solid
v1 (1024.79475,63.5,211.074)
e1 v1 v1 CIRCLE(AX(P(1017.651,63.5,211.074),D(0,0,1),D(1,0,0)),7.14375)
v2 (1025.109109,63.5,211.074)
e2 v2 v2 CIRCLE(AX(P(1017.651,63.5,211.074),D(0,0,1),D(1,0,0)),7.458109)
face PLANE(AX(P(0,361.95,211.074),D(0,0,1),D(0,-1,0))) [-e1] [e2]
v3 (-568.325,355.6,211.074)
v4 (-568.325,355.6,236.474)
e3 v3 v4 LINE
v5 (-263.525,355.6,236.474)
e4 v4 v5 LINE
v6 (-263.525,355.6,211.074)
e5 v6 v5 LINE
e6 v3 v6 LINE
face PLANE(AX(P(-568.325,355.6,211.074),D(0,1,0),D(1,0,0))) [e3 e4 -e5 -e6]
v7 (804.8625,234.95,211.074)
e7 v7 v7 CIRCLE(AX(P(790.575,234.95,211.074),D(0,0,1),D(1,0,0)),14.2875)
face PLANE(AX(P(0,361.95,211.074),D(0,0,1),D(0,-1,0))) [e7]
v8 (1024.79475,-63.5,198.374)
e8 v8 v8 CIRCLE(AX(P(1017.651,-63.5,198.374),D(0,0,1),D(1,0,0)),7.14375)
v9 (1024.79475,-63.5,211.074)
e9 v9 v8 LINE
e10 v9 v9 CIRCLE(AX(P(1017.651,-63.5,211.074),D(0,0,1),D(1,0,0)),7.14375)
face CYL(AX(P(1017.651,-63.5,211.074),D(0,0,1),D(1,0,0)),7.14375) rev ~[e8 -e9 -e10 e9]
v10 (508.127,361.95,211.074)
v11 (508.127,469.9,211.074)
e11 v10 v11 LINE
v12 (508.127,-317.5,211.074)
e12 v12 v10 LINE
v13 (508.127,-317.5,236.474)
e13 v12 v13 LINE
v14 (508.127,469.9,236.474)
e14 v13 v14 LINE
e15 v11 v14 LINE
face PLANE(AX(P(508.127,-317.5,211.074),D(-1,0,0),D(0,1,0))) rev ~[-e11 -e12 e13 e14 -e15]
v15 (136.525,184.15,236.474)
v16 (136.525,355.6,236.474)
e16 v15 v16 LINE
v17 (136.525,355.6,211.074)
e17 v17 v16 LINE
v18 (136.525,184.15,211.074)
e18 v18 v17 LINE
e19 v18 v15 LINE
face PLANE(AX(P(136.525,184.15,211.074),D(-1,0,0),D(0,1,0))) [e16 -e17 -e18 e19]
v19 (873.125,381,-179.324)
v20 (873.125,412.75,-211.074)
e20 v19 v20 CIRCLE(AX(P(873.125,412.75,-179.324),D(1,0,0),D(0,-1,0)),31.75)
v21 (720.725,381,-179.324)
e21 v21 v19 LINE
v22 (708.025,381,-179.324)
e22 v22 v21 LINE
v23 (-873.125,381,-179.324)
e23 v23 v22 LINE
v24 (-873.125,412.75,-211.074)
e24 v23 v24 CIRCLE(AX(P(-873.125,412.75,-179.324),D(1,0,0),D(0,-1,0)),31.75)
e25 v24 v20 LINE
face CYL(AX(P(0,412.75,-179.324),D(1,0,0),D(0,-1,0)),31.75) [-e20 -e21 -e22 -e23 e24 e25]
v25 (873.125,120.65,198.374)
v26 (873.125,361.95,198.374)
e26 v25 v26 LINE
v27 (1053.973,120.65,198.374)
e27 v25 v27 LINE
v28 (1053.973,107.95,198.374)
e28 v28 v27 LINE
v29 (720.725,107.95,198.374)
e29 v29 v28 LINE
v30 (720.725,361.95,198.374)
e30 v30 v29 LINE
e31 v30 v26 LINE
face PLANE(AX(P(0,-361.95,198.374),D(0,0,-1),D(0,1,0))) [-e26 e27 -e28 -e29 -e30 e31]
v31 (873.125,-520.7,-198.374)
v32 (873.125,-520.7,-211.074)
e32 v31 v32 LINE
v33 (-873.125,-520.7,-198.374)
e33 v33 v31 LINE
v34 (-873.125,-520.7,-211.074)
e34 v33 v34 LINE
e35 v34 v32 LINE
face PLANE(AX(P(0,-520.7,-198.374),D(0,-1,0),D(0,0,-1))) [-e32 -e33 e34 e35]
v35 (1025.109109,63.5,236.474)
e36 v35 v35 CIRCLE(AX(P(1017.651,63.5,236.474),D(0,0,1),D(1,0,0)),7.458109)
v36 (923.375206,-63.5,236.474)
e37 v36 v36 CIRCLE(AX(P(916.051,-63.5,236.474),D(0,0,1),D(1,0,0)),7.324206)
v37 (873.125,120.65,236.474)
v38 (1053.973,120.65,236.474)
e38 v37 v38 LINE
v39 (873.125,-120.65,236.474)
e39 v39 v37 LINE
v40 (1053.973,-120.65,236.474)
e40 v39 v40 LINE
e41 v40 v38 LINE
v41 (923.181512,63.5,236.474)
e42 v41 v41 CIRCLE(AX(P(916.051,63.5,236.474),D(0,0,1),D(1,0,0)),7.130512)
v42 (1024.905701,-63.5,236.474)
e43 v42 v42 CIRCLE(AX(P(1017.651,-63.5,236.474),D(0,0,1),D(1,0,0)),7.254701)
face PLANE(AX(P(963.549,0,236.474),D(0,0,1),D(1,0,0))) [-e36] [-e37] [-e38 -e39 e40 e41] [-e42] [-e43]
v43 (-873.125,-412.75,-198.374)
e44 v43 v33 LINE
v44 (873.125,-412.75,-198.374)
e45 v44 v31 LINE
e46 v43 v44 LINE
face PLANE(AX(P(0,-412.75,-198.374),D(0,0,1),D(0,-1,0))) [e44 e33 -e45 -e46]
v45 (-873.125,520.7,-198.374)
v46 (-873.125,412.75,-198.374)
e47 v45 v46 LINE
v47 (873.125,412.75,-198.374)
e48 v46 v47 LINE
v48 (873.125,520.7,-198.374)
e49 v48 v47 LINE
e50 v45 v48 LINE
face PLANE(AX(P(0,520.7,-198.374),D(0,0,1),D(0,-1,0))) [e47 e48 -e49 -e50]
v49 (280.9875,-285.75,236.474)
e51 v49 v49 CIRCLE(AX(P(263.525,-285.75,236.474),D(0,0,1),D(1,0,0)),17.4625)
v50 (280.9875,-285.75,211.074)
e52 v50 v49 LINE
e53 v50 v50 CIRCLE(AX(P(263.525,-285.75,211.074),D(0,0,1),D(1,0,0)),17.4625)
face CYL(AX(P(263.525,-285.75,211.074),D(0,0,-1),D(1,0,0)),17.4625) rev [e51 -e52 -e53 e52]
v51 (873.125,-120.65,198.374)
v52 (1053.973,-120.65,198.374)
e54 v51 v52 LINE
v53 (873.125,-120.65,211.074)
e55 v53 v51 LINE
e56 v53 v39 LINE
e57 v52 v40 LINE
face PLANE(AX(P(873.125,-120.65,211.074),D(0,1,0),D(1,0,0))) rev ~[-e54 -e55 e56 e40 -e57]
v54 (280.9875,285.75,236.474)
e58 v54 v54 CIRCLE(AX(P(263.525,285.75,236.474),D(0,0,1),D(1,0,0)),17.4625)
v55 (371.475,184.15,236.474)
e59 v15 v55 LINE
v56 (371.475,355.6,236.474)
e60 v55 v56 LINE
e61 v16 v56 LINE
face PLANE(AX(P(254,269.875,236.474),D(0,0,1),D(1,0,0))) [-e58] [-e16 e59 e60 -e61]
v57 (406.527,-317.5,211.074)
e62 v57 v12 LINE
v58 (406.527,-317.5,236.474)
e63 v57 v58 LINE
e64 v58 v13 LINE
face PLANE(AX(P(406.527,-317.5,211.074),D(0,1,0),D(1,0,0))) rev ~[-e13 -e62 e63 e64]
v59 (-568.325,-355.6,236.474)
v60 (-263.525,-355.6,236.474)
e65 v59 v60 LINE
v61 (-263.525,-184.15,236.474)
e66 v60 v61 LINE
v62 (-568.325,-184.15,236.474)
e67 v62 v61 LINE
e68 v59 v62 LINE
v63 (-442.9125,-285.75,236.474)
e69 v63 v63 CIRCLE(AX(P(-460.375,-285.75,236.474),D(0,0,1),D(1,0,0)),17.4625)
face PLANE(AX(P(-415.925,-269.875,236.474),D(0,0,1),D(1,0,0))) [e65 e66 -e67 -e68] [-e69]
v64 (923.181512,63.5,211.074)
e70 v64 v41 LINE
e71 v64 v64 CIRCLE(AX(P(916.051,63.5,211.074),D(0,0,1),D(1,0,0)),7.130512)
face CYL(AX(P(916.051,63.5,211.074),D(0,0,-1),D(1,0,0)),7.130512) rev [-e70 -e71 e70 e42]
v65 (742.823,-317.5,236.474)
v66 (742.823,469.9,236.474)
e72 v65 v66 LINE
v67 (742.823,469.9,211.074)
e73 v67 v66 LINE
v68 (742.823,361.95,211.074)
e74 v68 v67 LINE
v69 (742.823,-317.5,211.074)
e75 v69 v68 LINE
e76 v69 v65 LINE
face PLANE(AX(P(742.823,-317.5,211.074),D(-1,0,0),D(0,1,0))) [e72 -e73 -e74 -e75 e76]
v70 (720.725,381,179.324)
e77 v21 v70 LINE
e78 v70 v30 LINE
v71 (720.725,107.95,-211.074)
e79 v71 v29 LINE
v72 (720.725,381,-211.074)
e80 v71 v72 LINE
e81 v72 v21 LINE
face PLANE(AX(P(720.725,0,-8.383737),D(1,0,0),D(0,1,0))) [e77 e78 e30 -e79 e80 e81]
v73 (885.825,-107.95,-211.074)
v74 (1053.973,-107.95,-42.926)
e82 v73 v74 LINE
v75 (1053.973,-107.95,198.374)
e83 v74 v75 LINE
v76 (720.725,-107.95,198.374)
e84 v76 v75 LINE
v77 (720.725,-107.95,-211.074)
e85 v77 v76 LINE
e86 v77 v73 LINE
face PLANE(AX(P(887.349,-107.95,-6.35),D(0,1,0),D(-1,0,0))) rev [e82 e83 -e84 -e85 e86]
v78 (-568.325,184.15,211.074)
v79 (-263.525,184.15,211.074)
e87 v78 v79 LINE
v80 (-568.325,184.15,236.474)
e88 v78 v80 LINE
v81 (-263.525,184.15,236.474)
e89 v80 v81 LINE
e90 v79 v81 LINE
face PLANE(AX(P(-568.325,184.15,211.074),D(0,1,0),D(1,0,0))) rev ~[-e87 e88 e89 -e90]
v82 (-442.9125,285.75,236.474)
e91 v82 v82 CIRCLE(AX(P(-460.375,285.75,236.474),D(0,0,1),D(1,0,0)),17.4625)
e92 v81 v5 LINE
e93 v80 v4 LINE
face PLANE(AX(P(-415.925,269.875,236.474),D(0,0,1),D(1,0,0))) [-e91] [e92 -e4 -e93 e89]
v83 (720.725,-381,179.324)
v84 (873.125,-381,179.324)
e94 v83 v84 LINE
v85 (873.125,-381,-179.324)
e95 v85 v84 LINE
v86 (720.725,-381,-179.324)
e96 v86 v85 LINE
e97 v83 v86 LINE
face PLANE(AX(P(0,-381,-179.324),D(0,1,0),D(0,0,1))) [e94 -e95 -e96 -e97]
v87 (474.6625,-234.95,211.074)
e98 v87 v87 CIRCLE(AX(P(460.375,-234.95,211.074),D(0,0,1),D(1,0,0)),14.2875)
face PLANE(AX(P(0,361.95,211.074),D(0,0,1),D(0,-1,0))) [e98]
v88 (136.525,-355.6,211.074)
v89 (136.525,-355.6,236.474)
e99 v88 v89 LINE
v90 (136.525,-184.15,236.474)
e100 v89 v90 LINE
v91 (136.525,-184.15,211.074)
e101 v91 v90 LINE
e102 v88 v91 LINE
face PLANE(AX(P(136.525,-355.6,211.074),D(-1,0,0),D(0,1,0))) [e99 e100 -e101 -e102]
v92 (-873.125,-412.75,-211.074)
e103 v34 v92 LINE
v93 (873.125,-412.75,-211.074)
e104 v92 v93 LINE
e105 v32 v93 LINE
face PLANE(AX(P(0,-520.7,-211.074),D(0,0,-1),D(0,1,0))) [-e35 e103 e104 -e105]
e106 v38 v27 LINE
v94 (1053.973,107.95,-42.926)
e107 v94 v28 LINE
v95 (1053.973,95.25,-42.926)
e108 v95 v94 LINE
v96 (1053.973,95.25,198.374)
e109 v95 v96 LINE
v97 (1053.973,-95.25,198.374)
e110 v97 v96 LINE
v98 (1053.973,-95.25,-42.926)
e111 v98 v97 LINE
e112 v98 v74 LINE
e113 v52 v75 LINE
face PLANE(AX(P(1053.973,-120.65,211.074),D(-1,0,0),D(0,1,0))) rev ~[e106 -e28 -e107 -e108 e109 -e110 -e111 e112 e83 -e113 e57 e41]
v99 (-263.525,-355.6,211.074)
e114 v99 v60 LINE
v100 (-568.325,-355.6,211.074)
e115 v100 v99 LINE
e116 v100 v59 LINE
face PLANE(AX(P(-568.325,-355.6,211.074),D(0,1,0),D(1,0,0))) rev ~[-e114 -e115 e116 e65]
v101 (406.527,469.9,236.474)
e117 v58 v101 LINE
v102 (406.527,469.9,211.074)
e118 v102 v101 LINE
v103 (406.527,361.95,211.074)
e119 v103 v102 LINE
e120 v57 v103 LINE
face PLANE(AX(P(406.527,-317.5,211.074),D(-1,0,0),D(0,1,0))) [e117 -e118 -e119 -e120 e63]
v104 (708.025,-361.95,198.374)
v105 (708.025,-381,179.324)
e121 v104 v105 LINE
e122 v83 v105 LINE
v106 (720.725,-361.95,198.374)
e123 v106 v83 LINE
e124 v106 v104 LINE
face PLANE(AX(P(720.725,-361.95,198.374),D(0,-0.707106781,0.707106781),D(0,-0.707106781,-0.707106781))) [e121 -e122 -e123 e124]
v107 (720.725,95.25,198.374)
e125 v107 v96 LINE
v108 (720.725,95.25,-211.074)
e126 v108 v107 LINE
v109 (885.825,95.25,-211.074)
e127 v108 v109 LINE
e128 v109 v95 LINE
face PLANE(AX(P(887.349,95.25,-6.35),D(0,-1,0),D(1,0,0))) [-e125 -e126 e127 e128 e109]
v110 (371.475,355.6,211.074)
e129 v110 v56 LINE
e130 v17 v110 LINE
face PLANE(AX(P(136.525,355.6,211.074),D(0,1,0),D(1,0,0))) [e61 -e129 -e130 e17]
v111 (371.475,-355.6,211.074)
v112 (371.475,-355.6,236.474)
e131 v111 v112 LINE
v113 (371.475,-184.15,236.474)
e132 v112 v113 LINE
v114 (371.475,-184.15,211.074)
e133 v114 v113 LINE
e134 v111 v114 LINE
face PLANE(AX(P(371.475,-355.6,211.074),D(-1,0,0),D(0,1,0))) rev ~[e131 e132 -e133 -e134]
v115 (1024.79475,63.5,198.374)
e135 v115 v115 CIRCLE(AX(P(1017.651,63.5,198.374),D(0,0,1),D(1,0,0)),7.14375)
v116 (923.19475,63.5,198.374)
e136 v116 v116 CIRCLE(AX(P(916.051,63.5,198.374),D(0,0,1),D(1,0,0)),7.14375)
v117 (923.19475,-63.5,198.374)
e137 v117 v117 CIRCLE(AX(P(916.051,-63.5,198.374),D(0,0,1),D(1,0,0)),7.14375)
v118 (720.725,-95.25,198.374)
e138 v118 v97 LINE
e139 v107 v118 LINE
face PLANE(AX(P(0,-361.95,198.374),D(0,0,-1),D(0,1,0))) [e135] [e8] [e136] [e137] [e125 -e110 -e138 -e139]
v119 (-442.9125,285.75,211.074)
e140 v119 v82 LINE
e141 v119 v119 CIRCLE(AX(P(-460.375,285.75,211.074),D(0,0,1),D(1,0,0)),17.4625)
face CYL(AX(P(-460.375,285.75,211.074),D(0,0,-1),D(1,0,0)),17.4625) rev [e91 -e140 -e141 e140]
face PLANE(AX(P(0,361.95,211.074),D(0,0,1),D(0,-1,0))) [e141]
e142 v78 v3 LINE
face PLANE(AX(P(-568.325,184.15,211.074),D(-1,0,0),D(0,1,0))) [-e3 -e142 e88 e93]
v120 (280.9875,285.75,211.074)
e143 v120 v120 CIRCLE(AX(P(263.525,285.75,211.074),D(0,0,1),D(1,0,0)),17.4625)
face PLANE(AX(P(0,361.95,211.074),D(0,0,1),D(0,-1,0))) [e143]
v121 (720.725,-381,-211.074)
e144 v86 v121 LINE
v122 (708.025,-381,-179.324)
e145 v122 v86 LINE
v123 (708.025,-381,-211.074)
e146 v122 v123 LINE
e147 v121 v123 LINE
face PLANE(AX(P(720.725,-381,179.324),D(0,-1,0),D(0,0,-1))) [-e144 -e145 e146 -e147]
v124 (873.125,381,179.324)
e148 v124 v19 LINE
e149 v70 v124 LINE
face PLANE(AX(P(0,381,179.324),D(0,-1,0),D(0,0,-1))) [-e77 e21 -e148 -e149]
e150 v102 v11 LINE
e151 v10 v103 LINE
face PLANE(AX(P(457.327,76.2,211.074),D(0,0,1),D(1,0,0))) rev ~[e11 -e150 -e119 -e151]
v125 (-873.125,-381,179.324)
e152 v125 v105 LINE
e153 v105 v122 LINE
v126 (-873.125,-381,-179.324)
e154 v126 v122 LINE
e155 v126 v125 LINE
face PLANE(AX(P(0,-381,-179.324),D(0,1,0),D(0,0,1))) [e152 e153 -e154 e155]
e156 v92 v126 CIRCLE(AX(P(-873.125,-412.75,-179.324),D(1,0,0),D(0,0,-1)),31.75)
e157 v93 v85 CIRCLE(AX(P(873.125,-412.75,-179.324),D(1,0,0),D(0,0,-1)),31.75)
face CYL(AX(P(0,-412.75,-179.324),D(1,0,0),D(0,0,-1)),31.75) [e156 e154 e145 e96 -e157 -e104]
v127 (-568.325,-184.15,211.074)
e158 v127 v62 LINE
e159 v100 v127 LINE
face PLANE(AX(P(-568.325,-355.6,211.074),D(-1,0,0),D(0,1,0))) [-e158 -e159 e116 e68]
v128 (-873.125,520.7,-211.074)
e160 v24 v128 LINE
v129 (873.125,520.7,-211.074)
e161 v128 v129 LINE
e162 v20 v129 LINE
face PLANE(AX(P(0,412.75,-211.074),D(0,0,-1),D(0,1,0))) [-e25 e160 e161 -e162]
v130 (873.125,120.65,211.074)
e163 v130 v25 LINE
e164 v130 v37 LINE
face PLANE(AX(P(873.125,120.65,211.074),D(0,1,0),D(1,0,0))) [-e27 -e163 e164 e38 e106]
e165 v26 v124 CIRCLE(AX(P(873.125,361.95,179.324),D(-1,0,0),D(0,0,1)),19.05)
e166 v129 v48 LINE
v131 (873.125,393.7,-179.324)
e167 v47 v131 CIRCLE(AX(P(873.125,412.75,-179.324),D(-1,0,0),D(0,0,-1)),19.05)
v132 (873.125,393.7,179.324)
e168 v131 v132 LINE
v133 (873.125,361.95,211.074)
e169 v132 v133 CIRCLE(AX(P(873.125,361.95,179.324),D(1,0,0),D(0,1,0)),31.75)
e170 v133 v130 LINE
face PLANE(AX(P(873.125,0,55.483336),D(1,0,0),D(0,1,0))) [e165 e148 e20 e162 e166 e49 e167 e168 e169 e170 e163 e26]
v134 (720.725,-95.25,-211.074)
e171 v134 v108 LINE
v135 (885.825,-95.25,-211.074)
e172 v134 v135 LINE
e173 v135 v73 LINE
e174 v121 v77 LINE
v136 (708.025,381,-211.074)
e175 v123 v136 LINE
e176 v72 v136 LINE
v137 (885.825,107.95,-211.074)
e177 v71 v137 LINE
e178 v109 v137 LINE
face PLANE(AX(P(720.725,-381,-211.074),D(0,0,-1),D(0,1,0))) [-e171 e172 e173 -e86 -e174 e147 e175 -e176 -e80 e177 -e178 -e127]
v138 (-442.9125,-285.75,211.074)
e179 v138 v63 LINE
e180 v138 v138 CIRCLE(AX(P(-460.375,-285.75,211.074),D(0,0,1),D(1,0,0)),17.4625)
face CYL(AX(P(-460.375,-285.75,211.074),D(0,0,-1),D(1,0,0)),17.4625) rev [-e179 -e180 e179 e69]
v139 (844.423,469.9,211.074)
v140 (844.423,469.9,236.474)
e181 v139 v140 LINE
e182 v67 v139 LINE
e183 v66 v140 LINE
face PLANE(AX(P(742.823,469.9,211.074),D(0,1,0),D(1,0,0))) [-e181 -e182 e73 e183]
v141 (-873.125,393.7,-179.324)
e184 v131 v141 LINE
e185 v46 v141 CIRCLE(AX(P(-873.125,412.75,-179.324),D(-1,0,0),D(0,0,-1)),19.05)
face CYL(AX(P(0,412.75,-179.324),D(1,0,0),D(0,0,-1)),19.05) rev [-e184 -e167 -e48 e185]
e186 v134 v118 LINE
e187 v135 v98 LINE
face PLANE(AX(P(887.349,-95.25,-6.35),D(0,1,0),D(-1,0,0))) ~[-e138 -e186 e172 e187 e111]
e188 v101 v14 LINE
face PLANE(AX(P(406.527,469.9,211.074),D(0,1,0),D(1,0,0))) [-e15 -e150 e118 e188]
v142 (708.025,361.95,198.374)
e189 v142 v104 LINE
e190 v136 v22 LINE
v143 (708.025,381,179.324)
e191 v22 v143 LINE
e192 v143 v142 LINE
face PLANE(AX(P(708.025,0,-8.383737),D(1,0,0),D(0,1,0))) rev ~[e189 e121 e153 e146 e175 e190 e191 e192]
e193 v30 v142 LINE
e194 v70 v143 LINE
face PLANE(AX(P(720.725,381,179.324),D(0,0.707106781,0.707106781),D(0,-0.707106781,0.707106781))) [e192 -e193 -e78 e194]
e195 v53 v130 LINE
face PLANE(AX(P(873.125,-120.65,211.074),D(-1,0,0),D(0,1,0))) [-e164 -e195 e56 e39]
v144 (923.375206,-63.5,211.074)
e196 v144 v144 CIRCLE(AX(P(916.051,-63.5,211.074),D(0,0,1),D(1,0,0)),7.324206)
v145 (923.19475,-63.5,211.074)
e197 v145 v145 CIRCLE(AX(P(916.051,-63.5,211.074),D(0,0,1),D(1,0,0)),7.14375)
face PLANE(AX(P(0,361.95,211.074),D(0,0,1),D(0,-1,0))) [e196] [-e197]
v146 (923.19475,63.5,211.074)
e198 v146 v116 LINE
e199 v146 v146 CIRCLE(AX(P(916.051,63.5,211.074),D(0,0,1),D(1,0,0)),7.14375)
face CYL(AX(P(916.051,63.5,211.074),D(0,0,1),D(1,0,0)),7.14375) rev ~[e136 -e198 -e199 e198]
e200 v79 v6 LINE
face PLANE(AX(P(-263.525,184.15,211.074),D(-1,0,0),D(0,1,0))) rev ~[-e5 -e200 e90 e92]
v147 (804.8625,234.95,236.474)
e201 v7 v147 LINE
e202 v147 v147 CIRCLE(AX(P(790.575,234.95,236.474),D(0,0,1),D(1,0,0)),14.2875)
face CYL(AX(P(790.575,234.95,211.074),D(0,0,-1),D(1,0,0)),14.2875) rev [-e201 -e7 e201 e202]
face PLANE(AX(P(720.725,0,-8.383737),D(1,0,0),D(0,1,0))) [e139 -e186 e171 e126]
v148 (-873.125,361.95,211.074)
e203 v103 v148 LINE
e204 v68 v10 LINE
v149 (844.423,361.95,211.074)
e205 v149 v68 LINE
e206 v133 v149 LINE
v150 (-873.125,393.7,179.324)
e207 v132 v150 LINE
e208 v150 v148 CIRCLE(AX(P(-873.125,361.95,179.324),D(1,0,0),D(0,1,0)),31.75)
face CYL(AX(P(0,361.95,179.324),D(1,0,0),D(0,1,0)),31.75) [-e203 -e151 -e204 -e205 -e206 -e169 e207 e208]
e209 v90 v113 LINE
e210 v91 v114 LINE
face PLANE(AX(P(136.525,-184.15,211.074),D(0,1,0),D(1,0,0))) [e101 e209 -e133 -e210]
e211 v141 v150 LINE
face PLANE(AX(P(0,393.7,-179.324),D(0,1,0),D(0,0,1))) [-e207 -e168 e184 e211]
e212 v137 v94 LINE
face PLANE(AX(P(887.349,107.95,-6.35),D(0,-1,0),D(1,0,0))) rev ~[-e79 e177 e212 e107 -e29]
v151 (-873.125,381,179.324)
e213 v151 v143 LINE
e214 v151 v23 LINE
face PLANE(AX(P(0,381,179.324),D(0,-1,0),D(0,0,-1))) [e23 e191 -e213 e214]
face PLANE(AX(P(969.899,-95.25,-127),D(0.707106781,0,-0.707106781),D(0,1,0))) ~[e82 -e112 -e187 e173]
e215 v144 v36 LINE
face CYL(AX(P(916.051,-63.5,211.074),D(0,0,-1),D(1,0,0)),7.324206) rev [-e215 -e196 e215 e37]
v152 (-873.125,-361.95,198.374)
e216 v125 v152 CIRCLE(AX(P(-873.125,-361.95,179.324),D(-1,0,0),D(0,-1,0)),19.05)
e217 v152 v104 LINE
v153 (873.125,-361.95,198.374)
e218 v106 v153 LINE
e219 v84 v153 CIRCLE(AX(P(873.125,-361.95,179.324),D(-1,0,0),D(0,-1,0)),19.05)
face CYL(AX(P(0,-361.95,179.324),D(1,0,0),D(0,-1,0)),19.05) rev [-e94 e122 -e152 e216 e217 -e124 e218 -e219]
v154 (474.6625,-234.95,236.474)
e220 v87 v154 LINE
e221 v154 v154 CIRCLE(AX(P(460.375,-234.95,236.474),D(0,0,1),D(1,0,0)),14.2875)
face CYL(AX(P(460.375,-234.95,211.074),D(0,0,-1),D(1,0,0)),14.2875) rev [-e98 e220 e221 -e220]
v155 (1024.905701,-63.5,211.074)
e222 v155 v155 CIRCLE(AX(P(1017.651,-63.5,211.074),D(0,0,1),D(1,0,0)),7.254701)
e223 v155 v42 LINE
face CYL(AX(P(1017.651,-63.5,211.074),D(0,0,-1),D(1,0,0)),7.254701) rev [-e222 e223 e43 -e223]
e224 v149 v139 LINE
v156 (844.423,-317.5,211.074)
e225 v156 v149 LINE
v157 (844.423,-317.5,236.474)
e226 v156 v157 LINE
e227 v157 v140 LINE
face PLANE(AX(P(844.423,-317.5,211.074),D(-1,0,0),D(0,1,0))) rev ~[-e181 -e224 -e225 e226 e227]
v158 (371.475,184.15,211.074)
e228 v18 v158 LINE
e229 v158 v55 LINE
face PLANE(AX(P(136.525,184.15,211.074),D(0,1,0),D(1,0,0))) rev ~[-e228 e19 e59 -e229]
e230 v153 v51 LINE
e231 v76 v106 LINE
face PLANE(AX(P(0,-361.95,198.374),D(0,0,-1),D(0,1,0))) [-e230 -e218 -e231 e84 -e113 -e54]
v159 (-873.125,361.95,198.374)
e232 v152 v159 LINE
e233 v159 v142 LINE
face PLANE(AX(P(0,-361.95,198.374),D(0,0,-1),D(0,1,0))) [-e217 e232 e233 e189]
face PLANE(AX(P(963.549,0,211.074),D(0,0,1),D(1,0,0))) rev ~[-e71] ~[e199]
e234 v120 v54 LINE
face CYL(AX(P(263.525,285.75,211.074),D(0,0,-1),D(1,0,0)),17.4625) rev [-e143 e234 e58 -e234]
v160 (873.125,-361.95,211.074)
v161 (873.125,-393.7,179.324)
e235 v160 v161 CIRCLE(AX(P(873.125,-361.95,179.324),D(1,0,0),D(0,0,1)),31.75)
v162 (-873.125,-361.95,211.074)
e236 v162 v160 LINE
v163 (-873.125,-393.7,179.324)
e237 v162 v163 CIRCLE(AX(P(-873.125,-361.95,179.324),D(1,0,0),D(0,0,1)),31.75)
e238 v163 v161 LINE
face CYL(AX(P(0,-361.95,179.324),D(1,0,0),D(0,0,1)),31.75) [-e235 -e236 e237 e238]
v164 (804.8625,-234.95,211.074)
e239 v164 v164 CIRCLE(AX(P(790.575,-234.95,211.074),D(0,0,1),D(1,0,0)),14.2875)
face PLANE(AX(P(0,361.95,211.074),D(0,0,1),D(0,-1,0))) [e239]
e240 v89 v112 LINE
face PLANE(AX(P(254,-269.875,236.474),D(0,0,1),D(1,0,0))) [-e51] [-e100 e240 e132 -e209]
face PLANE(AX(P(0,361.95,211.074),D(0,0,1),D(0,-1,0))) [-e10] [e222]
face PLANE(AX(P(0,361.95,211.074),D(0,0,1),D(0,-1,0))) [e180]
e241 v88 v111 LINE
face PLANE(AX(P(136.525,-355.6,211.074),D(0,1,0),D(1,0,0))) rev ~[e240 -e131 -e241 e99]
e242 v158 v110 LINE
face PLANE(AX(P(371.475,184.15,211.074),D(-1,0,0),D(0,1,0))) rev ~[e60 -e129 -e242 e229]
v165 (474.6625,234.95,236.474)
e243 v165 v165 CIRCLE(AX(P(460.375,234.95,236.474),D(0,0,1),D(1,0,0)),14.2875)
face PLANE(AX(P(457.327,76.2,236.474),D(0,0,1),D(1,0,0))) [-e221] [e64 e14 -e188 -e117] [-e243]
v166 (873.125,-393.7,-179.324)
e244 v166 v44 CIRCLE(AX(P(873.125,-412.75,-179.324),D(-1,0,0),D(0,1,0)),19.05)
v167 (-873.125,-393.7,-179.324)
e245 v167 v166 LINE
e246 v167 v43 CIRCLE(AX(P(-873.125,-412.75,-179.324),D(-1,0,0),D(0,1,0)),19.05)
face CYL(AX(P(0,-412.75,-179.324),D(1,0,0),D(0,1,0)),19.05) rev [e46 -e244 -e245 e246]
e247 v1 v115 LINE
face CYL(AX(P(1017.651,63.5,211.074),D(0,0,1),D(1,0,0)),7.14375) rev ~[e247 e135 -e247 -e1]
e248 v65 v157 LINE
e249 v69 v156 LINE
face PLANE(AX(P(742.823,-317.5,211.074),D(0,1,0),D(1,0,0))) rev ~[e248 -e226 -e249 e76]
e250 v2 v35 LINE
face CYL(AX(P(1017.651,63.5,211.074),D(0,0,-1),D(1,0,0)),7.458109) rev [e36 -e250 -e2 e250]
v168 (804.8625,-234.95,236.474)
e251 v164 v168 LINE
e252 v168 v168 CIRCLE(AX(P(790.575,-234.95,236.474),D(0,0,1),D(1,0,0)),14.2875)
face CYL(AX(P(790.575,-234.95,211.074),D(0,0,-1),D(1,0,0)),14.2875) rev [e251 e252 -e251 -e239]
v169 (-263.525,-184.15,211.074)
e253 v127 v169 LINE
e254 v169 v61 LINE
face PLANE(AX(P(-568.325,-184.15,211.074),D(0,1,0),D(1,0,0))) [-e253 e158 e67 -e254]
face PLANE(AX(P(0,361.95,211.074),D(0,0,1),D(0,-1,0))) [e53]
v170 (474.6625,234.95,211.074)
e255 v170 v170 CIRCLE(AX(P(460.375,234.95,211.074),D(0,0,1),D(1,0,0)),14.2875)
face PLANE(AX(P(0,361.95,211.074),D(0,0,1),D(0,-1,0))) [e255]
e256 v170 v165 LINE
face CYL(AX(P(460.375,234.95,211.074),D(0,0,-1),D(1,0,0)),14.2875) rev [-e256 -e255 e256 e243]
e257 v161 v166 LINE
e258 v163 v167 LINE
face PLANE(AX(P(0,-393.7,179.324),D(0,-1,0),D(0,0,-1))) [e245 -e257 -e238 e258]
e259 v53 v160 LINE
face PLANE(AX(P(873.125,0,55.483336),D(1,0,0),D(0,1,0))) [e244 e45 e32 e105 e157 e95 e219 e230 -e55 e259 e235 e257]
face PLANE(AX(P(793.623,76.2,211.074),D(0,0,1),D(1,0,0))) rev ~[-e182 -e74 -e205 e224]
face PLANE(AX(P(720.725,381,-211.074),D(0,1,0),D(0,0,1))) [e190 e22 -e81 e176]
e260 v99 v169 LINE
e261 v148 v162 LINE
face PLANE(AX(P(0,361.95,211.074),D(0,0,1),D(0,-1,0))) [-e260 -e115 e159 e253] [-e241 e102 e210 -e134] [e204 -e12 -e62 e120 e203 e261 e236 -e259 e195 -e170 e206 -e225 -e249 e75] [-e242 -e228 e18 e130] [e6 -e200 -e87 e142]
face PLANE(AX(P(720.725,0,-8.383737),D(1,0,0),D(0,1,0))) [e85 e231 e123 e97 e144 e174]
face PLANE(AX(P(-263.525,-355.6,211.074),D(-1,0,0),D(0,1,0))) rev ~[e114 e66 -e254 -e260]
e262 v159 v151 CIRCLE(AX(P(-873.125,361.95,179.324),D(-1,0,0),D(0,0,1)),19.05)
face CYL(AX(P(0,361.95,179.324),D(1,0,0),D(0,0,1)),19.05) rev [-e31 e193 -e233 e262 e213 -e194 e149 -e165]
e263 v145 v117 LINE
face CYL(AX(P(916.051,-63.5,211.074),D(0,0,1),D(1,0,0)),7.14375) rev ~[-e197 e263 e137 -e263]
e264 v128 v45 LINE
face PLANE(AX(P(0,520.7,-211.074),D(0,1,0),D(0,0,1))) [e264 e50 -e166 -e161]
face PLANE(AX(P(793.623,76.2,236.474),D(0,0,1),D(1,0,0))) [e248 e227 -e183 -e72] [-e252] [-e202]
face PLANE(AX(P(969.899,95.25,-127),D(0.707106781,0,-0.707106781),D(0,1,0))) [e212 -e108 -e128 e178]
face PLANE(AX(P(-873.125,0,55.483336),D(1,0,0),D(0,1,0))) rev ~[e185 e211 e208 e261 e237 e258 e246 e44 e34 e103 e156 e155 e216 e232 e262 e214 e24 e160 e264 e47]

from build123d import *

# Parameters (mm, degrees)
F1_DEPTH  = 873.125
F4_DEPTH  = 12.7
F5_W      = 304.8
F5_H      = 171.45
F5_R      = 17.4625
F5_W_2    = 234.95
F6_DEPTH  = 25.4
F7_W      = 101.6
F7_H      = 787.4
F7_R      = 14.2875
F8_DEPTH  = 25.4
F9_W      = 180.848
F9_H      = 241.3
F10_DEPTH = 12.7
F12_W     = 333.248
F12_H     = 409.448
F13_DEPTH = 12.7
F14_SIZE  = 168.148
F16_R     = 7.14375
F17_DEPTH = 422.149
F18_W     = 180.848
F18_H     = 241.3
F18_R     = 7.324206161
F18_R_2   = 7.2547005792
F18_R_3   = 7.130511654
F18_R_4   = 7.4581094532
F19_DEPTH = 25.4


with BuildPart() as f1:
    # F0 (on Right) → F1 (new body, symmetric)
    with BuildSketch(Plane.YZ):
        with BuildLine():
            Line((361.95, 211.074), (-361.95, 211.074))
            ThreePointArc((-361.95, 211.074), (-384.4006403027, 201.7746403027), (-393.7, 179.324))
            Line((-393.7, 179.324), (-393.7, -179.324))
            ThreePointArc((-393.7, -179.324), (-399.2796158184, -192.7943841816), (-412.75, -198.374))
            Line((-412.75, -198.374), (-520.7, -198.374))
            Line((-520.7, -198.374), (-520.7, -211.074))
            Line((-520.7, -211.074), (-412.75, -211.074))
            ThreePointArc((-412.75, -211.074), (-390.2993596973, -201.7746403027), (-381, -179.324))
            Line((-381, -179.324), (-381, 179.324))
            ThreePointArc((-381, 179.324), (-375.4203841816, 192.7943841816), (-361.95, 198.374))
            Line((-361.95, 198.374), (361.95, 198.374))
            ThreePointArc((361.95, 198.374), (375.4203841816, 192.7943841816), (381, 179.324))
            Line((381, 179.324), (381, -179.324))
            ThreePointArc((381, -179.324), (390.2993596973, -201.7746403027), (412.75, -211.074))
            Line((412.75, -211.074), (520.7, -211.074))
            Line((520.7, -211.074), (520.7, -198.374))
            Line((520.7, -198.374), (412.75, -198.374))
            ThreePointArc((412.75, -198.374), (399.2796158184, -192.7943841816), (393.7, -179.324))
            Line((393.7, -179.324), (393.7, 179.324))
            ThreePointArc((393.7, 179.324), (384.4006403027, 201.7746403027), (361.95, 211.074))
        make_face()
    extrude(amount=F1_DEPTH, both=True)

    # F5 (on face) → F6 (join)
    with BuildSketch(Plane.XY.offset(211.074)):
        with Locations((-415.925, -269.875)):
            Rectangle(F5_W, F5_H)
        with Locations((-460.375, -285.75)):
            Circle(F5_R, mode=Mode.SUBTRACT)
        with Locations((254, -269.875)):
            Rectangle(F5_W_2, F5_H)
        with Locations((263.525, -285.75)):
            Circle(F5_R, mode=Mode.SUBTRACT)
        with Locations((-415.925, 269.875)):
            Rectangle(F5_W, F5_H)
        with Locations((-460.375, 285.75)):
            Circle(F5_R, mode=Mode.SUBTRACT)
        with Locations((254, 269.875)):
            Rectangle(F5_W_2, F5_H)
        with Locations((263.525, 285.75)):
            Circle(F5_R, mode=Mode.SUBTRACT)
    extrude(amount=F6_DEPTH)

    # F7 (on face) → F8 (join)
    with BuildSketch(Plane.XY.offset(211.074)):
        with Locations((457.327, 76.2)):
            Rectangle(F7_W, F7_H)
        with Locations((460.375, -234.95)):
            Circle(F7_R, mode=Mode.SUBTRACT)
        with Locations((460.375, 234.95)):
            Circle(F7_R, mode=Mode.SUBTRACT)
        with Locations((793.623, 76.2)):
            Rectangle(F7_W, F7_H)
        with Locations((790.575, -234.95)):
            Circle(F7_R, mode=Mode.SUBTRACT)
        with Locations((790.575, 234.95)):
            Circle(F7_R, mode=Mode.SUBTRACT)
    extrude(amount=F8_DEPTH)

    # F9 (on face) → F10 (join)
    with BuildSketch(Plane.XY.offset(211.074)):
        with Locations((963.549, 0)):
            Rectangle(F9_W, F9_H)
    extrude(amount=-F10_DEPTH)



with BuildPart() as f4:
    # F3 (on offset) → F4 (new body)
    with BuildSketch(Plane.YZ.offset(720.725)):
        Polygon((361.95, 198.374), (-361.95, 198.374), (-381, 179.324), (-381, -211.074), (381, -211.074), (381, 179.324), align=None)
    extrude(amount=-F4_DEPTH)


with BuildPart() as f13:
    # F12 (on offset) → F13 (new body)
    with BuildSketch(Plane.XZ.offset(-95.25)):
        with Locations((887.349, -6.35)):
            Rectangle(F12_W, F12_H)
    extrude(amount=-F13_DEPTH)

    # F14
    f14_edges = [f13.edges().sort_by_distance(p)[0] for p in [
        (1053.973, 101.6, -211.074),
    ]]
    chamfer(f14_edges, length=F14_SIZE)


with BuildPart() as f1_1:
    add(f1.part)

    add(f4.part)  # F15 merges F4
    # F15: F13 across plane
    add(f13.part.mirror(Plane.XZ))

    # F16 (on face) → F17 (cut, through all)
    with BuildSketch(Plane.XY.offset(211.074)):
        with Locations((916.051, 63.5)):
            Circle(F16_R)
        with Locations((1017.651, 63.5)):
            Circle(F16_R)
        with Locations((1017.651, -63.5)):
            Circle(F16_R)
        with Locations((916.051, -63.5)):
            Circle(F16_R)
    extrude(amount=-F17_DEPTH, mode=Mode.SUBTRACT)


    add(f13.part)  # F19 merges F13
    # F18 (on face) → F19 (join)
    with BuildSketch(Plane.XY.offset(211.074)):
        with Locations((963.549, 0)):
            Rectangle(F18_W, F18_H)
        with Locations((916.051, -63.5)):
            Circle(F18_R, mode=Mode.SUBTRACT)
        with Locations((1017.651, -63.5)):
            Circle(F18_R_2, mode=Mode.SUBTRACT)
        with Locations((916.051, 63.5)):
            Circle(F18_R_3, mode=Mode.SUBTRACT)
        with Locations((1017.651, 63.5)):
            Circle(F18_R_4, mode=Mode.SUBTRACT)
    extrude(amount=F19_DEPTH)


solid = f1_1.part
